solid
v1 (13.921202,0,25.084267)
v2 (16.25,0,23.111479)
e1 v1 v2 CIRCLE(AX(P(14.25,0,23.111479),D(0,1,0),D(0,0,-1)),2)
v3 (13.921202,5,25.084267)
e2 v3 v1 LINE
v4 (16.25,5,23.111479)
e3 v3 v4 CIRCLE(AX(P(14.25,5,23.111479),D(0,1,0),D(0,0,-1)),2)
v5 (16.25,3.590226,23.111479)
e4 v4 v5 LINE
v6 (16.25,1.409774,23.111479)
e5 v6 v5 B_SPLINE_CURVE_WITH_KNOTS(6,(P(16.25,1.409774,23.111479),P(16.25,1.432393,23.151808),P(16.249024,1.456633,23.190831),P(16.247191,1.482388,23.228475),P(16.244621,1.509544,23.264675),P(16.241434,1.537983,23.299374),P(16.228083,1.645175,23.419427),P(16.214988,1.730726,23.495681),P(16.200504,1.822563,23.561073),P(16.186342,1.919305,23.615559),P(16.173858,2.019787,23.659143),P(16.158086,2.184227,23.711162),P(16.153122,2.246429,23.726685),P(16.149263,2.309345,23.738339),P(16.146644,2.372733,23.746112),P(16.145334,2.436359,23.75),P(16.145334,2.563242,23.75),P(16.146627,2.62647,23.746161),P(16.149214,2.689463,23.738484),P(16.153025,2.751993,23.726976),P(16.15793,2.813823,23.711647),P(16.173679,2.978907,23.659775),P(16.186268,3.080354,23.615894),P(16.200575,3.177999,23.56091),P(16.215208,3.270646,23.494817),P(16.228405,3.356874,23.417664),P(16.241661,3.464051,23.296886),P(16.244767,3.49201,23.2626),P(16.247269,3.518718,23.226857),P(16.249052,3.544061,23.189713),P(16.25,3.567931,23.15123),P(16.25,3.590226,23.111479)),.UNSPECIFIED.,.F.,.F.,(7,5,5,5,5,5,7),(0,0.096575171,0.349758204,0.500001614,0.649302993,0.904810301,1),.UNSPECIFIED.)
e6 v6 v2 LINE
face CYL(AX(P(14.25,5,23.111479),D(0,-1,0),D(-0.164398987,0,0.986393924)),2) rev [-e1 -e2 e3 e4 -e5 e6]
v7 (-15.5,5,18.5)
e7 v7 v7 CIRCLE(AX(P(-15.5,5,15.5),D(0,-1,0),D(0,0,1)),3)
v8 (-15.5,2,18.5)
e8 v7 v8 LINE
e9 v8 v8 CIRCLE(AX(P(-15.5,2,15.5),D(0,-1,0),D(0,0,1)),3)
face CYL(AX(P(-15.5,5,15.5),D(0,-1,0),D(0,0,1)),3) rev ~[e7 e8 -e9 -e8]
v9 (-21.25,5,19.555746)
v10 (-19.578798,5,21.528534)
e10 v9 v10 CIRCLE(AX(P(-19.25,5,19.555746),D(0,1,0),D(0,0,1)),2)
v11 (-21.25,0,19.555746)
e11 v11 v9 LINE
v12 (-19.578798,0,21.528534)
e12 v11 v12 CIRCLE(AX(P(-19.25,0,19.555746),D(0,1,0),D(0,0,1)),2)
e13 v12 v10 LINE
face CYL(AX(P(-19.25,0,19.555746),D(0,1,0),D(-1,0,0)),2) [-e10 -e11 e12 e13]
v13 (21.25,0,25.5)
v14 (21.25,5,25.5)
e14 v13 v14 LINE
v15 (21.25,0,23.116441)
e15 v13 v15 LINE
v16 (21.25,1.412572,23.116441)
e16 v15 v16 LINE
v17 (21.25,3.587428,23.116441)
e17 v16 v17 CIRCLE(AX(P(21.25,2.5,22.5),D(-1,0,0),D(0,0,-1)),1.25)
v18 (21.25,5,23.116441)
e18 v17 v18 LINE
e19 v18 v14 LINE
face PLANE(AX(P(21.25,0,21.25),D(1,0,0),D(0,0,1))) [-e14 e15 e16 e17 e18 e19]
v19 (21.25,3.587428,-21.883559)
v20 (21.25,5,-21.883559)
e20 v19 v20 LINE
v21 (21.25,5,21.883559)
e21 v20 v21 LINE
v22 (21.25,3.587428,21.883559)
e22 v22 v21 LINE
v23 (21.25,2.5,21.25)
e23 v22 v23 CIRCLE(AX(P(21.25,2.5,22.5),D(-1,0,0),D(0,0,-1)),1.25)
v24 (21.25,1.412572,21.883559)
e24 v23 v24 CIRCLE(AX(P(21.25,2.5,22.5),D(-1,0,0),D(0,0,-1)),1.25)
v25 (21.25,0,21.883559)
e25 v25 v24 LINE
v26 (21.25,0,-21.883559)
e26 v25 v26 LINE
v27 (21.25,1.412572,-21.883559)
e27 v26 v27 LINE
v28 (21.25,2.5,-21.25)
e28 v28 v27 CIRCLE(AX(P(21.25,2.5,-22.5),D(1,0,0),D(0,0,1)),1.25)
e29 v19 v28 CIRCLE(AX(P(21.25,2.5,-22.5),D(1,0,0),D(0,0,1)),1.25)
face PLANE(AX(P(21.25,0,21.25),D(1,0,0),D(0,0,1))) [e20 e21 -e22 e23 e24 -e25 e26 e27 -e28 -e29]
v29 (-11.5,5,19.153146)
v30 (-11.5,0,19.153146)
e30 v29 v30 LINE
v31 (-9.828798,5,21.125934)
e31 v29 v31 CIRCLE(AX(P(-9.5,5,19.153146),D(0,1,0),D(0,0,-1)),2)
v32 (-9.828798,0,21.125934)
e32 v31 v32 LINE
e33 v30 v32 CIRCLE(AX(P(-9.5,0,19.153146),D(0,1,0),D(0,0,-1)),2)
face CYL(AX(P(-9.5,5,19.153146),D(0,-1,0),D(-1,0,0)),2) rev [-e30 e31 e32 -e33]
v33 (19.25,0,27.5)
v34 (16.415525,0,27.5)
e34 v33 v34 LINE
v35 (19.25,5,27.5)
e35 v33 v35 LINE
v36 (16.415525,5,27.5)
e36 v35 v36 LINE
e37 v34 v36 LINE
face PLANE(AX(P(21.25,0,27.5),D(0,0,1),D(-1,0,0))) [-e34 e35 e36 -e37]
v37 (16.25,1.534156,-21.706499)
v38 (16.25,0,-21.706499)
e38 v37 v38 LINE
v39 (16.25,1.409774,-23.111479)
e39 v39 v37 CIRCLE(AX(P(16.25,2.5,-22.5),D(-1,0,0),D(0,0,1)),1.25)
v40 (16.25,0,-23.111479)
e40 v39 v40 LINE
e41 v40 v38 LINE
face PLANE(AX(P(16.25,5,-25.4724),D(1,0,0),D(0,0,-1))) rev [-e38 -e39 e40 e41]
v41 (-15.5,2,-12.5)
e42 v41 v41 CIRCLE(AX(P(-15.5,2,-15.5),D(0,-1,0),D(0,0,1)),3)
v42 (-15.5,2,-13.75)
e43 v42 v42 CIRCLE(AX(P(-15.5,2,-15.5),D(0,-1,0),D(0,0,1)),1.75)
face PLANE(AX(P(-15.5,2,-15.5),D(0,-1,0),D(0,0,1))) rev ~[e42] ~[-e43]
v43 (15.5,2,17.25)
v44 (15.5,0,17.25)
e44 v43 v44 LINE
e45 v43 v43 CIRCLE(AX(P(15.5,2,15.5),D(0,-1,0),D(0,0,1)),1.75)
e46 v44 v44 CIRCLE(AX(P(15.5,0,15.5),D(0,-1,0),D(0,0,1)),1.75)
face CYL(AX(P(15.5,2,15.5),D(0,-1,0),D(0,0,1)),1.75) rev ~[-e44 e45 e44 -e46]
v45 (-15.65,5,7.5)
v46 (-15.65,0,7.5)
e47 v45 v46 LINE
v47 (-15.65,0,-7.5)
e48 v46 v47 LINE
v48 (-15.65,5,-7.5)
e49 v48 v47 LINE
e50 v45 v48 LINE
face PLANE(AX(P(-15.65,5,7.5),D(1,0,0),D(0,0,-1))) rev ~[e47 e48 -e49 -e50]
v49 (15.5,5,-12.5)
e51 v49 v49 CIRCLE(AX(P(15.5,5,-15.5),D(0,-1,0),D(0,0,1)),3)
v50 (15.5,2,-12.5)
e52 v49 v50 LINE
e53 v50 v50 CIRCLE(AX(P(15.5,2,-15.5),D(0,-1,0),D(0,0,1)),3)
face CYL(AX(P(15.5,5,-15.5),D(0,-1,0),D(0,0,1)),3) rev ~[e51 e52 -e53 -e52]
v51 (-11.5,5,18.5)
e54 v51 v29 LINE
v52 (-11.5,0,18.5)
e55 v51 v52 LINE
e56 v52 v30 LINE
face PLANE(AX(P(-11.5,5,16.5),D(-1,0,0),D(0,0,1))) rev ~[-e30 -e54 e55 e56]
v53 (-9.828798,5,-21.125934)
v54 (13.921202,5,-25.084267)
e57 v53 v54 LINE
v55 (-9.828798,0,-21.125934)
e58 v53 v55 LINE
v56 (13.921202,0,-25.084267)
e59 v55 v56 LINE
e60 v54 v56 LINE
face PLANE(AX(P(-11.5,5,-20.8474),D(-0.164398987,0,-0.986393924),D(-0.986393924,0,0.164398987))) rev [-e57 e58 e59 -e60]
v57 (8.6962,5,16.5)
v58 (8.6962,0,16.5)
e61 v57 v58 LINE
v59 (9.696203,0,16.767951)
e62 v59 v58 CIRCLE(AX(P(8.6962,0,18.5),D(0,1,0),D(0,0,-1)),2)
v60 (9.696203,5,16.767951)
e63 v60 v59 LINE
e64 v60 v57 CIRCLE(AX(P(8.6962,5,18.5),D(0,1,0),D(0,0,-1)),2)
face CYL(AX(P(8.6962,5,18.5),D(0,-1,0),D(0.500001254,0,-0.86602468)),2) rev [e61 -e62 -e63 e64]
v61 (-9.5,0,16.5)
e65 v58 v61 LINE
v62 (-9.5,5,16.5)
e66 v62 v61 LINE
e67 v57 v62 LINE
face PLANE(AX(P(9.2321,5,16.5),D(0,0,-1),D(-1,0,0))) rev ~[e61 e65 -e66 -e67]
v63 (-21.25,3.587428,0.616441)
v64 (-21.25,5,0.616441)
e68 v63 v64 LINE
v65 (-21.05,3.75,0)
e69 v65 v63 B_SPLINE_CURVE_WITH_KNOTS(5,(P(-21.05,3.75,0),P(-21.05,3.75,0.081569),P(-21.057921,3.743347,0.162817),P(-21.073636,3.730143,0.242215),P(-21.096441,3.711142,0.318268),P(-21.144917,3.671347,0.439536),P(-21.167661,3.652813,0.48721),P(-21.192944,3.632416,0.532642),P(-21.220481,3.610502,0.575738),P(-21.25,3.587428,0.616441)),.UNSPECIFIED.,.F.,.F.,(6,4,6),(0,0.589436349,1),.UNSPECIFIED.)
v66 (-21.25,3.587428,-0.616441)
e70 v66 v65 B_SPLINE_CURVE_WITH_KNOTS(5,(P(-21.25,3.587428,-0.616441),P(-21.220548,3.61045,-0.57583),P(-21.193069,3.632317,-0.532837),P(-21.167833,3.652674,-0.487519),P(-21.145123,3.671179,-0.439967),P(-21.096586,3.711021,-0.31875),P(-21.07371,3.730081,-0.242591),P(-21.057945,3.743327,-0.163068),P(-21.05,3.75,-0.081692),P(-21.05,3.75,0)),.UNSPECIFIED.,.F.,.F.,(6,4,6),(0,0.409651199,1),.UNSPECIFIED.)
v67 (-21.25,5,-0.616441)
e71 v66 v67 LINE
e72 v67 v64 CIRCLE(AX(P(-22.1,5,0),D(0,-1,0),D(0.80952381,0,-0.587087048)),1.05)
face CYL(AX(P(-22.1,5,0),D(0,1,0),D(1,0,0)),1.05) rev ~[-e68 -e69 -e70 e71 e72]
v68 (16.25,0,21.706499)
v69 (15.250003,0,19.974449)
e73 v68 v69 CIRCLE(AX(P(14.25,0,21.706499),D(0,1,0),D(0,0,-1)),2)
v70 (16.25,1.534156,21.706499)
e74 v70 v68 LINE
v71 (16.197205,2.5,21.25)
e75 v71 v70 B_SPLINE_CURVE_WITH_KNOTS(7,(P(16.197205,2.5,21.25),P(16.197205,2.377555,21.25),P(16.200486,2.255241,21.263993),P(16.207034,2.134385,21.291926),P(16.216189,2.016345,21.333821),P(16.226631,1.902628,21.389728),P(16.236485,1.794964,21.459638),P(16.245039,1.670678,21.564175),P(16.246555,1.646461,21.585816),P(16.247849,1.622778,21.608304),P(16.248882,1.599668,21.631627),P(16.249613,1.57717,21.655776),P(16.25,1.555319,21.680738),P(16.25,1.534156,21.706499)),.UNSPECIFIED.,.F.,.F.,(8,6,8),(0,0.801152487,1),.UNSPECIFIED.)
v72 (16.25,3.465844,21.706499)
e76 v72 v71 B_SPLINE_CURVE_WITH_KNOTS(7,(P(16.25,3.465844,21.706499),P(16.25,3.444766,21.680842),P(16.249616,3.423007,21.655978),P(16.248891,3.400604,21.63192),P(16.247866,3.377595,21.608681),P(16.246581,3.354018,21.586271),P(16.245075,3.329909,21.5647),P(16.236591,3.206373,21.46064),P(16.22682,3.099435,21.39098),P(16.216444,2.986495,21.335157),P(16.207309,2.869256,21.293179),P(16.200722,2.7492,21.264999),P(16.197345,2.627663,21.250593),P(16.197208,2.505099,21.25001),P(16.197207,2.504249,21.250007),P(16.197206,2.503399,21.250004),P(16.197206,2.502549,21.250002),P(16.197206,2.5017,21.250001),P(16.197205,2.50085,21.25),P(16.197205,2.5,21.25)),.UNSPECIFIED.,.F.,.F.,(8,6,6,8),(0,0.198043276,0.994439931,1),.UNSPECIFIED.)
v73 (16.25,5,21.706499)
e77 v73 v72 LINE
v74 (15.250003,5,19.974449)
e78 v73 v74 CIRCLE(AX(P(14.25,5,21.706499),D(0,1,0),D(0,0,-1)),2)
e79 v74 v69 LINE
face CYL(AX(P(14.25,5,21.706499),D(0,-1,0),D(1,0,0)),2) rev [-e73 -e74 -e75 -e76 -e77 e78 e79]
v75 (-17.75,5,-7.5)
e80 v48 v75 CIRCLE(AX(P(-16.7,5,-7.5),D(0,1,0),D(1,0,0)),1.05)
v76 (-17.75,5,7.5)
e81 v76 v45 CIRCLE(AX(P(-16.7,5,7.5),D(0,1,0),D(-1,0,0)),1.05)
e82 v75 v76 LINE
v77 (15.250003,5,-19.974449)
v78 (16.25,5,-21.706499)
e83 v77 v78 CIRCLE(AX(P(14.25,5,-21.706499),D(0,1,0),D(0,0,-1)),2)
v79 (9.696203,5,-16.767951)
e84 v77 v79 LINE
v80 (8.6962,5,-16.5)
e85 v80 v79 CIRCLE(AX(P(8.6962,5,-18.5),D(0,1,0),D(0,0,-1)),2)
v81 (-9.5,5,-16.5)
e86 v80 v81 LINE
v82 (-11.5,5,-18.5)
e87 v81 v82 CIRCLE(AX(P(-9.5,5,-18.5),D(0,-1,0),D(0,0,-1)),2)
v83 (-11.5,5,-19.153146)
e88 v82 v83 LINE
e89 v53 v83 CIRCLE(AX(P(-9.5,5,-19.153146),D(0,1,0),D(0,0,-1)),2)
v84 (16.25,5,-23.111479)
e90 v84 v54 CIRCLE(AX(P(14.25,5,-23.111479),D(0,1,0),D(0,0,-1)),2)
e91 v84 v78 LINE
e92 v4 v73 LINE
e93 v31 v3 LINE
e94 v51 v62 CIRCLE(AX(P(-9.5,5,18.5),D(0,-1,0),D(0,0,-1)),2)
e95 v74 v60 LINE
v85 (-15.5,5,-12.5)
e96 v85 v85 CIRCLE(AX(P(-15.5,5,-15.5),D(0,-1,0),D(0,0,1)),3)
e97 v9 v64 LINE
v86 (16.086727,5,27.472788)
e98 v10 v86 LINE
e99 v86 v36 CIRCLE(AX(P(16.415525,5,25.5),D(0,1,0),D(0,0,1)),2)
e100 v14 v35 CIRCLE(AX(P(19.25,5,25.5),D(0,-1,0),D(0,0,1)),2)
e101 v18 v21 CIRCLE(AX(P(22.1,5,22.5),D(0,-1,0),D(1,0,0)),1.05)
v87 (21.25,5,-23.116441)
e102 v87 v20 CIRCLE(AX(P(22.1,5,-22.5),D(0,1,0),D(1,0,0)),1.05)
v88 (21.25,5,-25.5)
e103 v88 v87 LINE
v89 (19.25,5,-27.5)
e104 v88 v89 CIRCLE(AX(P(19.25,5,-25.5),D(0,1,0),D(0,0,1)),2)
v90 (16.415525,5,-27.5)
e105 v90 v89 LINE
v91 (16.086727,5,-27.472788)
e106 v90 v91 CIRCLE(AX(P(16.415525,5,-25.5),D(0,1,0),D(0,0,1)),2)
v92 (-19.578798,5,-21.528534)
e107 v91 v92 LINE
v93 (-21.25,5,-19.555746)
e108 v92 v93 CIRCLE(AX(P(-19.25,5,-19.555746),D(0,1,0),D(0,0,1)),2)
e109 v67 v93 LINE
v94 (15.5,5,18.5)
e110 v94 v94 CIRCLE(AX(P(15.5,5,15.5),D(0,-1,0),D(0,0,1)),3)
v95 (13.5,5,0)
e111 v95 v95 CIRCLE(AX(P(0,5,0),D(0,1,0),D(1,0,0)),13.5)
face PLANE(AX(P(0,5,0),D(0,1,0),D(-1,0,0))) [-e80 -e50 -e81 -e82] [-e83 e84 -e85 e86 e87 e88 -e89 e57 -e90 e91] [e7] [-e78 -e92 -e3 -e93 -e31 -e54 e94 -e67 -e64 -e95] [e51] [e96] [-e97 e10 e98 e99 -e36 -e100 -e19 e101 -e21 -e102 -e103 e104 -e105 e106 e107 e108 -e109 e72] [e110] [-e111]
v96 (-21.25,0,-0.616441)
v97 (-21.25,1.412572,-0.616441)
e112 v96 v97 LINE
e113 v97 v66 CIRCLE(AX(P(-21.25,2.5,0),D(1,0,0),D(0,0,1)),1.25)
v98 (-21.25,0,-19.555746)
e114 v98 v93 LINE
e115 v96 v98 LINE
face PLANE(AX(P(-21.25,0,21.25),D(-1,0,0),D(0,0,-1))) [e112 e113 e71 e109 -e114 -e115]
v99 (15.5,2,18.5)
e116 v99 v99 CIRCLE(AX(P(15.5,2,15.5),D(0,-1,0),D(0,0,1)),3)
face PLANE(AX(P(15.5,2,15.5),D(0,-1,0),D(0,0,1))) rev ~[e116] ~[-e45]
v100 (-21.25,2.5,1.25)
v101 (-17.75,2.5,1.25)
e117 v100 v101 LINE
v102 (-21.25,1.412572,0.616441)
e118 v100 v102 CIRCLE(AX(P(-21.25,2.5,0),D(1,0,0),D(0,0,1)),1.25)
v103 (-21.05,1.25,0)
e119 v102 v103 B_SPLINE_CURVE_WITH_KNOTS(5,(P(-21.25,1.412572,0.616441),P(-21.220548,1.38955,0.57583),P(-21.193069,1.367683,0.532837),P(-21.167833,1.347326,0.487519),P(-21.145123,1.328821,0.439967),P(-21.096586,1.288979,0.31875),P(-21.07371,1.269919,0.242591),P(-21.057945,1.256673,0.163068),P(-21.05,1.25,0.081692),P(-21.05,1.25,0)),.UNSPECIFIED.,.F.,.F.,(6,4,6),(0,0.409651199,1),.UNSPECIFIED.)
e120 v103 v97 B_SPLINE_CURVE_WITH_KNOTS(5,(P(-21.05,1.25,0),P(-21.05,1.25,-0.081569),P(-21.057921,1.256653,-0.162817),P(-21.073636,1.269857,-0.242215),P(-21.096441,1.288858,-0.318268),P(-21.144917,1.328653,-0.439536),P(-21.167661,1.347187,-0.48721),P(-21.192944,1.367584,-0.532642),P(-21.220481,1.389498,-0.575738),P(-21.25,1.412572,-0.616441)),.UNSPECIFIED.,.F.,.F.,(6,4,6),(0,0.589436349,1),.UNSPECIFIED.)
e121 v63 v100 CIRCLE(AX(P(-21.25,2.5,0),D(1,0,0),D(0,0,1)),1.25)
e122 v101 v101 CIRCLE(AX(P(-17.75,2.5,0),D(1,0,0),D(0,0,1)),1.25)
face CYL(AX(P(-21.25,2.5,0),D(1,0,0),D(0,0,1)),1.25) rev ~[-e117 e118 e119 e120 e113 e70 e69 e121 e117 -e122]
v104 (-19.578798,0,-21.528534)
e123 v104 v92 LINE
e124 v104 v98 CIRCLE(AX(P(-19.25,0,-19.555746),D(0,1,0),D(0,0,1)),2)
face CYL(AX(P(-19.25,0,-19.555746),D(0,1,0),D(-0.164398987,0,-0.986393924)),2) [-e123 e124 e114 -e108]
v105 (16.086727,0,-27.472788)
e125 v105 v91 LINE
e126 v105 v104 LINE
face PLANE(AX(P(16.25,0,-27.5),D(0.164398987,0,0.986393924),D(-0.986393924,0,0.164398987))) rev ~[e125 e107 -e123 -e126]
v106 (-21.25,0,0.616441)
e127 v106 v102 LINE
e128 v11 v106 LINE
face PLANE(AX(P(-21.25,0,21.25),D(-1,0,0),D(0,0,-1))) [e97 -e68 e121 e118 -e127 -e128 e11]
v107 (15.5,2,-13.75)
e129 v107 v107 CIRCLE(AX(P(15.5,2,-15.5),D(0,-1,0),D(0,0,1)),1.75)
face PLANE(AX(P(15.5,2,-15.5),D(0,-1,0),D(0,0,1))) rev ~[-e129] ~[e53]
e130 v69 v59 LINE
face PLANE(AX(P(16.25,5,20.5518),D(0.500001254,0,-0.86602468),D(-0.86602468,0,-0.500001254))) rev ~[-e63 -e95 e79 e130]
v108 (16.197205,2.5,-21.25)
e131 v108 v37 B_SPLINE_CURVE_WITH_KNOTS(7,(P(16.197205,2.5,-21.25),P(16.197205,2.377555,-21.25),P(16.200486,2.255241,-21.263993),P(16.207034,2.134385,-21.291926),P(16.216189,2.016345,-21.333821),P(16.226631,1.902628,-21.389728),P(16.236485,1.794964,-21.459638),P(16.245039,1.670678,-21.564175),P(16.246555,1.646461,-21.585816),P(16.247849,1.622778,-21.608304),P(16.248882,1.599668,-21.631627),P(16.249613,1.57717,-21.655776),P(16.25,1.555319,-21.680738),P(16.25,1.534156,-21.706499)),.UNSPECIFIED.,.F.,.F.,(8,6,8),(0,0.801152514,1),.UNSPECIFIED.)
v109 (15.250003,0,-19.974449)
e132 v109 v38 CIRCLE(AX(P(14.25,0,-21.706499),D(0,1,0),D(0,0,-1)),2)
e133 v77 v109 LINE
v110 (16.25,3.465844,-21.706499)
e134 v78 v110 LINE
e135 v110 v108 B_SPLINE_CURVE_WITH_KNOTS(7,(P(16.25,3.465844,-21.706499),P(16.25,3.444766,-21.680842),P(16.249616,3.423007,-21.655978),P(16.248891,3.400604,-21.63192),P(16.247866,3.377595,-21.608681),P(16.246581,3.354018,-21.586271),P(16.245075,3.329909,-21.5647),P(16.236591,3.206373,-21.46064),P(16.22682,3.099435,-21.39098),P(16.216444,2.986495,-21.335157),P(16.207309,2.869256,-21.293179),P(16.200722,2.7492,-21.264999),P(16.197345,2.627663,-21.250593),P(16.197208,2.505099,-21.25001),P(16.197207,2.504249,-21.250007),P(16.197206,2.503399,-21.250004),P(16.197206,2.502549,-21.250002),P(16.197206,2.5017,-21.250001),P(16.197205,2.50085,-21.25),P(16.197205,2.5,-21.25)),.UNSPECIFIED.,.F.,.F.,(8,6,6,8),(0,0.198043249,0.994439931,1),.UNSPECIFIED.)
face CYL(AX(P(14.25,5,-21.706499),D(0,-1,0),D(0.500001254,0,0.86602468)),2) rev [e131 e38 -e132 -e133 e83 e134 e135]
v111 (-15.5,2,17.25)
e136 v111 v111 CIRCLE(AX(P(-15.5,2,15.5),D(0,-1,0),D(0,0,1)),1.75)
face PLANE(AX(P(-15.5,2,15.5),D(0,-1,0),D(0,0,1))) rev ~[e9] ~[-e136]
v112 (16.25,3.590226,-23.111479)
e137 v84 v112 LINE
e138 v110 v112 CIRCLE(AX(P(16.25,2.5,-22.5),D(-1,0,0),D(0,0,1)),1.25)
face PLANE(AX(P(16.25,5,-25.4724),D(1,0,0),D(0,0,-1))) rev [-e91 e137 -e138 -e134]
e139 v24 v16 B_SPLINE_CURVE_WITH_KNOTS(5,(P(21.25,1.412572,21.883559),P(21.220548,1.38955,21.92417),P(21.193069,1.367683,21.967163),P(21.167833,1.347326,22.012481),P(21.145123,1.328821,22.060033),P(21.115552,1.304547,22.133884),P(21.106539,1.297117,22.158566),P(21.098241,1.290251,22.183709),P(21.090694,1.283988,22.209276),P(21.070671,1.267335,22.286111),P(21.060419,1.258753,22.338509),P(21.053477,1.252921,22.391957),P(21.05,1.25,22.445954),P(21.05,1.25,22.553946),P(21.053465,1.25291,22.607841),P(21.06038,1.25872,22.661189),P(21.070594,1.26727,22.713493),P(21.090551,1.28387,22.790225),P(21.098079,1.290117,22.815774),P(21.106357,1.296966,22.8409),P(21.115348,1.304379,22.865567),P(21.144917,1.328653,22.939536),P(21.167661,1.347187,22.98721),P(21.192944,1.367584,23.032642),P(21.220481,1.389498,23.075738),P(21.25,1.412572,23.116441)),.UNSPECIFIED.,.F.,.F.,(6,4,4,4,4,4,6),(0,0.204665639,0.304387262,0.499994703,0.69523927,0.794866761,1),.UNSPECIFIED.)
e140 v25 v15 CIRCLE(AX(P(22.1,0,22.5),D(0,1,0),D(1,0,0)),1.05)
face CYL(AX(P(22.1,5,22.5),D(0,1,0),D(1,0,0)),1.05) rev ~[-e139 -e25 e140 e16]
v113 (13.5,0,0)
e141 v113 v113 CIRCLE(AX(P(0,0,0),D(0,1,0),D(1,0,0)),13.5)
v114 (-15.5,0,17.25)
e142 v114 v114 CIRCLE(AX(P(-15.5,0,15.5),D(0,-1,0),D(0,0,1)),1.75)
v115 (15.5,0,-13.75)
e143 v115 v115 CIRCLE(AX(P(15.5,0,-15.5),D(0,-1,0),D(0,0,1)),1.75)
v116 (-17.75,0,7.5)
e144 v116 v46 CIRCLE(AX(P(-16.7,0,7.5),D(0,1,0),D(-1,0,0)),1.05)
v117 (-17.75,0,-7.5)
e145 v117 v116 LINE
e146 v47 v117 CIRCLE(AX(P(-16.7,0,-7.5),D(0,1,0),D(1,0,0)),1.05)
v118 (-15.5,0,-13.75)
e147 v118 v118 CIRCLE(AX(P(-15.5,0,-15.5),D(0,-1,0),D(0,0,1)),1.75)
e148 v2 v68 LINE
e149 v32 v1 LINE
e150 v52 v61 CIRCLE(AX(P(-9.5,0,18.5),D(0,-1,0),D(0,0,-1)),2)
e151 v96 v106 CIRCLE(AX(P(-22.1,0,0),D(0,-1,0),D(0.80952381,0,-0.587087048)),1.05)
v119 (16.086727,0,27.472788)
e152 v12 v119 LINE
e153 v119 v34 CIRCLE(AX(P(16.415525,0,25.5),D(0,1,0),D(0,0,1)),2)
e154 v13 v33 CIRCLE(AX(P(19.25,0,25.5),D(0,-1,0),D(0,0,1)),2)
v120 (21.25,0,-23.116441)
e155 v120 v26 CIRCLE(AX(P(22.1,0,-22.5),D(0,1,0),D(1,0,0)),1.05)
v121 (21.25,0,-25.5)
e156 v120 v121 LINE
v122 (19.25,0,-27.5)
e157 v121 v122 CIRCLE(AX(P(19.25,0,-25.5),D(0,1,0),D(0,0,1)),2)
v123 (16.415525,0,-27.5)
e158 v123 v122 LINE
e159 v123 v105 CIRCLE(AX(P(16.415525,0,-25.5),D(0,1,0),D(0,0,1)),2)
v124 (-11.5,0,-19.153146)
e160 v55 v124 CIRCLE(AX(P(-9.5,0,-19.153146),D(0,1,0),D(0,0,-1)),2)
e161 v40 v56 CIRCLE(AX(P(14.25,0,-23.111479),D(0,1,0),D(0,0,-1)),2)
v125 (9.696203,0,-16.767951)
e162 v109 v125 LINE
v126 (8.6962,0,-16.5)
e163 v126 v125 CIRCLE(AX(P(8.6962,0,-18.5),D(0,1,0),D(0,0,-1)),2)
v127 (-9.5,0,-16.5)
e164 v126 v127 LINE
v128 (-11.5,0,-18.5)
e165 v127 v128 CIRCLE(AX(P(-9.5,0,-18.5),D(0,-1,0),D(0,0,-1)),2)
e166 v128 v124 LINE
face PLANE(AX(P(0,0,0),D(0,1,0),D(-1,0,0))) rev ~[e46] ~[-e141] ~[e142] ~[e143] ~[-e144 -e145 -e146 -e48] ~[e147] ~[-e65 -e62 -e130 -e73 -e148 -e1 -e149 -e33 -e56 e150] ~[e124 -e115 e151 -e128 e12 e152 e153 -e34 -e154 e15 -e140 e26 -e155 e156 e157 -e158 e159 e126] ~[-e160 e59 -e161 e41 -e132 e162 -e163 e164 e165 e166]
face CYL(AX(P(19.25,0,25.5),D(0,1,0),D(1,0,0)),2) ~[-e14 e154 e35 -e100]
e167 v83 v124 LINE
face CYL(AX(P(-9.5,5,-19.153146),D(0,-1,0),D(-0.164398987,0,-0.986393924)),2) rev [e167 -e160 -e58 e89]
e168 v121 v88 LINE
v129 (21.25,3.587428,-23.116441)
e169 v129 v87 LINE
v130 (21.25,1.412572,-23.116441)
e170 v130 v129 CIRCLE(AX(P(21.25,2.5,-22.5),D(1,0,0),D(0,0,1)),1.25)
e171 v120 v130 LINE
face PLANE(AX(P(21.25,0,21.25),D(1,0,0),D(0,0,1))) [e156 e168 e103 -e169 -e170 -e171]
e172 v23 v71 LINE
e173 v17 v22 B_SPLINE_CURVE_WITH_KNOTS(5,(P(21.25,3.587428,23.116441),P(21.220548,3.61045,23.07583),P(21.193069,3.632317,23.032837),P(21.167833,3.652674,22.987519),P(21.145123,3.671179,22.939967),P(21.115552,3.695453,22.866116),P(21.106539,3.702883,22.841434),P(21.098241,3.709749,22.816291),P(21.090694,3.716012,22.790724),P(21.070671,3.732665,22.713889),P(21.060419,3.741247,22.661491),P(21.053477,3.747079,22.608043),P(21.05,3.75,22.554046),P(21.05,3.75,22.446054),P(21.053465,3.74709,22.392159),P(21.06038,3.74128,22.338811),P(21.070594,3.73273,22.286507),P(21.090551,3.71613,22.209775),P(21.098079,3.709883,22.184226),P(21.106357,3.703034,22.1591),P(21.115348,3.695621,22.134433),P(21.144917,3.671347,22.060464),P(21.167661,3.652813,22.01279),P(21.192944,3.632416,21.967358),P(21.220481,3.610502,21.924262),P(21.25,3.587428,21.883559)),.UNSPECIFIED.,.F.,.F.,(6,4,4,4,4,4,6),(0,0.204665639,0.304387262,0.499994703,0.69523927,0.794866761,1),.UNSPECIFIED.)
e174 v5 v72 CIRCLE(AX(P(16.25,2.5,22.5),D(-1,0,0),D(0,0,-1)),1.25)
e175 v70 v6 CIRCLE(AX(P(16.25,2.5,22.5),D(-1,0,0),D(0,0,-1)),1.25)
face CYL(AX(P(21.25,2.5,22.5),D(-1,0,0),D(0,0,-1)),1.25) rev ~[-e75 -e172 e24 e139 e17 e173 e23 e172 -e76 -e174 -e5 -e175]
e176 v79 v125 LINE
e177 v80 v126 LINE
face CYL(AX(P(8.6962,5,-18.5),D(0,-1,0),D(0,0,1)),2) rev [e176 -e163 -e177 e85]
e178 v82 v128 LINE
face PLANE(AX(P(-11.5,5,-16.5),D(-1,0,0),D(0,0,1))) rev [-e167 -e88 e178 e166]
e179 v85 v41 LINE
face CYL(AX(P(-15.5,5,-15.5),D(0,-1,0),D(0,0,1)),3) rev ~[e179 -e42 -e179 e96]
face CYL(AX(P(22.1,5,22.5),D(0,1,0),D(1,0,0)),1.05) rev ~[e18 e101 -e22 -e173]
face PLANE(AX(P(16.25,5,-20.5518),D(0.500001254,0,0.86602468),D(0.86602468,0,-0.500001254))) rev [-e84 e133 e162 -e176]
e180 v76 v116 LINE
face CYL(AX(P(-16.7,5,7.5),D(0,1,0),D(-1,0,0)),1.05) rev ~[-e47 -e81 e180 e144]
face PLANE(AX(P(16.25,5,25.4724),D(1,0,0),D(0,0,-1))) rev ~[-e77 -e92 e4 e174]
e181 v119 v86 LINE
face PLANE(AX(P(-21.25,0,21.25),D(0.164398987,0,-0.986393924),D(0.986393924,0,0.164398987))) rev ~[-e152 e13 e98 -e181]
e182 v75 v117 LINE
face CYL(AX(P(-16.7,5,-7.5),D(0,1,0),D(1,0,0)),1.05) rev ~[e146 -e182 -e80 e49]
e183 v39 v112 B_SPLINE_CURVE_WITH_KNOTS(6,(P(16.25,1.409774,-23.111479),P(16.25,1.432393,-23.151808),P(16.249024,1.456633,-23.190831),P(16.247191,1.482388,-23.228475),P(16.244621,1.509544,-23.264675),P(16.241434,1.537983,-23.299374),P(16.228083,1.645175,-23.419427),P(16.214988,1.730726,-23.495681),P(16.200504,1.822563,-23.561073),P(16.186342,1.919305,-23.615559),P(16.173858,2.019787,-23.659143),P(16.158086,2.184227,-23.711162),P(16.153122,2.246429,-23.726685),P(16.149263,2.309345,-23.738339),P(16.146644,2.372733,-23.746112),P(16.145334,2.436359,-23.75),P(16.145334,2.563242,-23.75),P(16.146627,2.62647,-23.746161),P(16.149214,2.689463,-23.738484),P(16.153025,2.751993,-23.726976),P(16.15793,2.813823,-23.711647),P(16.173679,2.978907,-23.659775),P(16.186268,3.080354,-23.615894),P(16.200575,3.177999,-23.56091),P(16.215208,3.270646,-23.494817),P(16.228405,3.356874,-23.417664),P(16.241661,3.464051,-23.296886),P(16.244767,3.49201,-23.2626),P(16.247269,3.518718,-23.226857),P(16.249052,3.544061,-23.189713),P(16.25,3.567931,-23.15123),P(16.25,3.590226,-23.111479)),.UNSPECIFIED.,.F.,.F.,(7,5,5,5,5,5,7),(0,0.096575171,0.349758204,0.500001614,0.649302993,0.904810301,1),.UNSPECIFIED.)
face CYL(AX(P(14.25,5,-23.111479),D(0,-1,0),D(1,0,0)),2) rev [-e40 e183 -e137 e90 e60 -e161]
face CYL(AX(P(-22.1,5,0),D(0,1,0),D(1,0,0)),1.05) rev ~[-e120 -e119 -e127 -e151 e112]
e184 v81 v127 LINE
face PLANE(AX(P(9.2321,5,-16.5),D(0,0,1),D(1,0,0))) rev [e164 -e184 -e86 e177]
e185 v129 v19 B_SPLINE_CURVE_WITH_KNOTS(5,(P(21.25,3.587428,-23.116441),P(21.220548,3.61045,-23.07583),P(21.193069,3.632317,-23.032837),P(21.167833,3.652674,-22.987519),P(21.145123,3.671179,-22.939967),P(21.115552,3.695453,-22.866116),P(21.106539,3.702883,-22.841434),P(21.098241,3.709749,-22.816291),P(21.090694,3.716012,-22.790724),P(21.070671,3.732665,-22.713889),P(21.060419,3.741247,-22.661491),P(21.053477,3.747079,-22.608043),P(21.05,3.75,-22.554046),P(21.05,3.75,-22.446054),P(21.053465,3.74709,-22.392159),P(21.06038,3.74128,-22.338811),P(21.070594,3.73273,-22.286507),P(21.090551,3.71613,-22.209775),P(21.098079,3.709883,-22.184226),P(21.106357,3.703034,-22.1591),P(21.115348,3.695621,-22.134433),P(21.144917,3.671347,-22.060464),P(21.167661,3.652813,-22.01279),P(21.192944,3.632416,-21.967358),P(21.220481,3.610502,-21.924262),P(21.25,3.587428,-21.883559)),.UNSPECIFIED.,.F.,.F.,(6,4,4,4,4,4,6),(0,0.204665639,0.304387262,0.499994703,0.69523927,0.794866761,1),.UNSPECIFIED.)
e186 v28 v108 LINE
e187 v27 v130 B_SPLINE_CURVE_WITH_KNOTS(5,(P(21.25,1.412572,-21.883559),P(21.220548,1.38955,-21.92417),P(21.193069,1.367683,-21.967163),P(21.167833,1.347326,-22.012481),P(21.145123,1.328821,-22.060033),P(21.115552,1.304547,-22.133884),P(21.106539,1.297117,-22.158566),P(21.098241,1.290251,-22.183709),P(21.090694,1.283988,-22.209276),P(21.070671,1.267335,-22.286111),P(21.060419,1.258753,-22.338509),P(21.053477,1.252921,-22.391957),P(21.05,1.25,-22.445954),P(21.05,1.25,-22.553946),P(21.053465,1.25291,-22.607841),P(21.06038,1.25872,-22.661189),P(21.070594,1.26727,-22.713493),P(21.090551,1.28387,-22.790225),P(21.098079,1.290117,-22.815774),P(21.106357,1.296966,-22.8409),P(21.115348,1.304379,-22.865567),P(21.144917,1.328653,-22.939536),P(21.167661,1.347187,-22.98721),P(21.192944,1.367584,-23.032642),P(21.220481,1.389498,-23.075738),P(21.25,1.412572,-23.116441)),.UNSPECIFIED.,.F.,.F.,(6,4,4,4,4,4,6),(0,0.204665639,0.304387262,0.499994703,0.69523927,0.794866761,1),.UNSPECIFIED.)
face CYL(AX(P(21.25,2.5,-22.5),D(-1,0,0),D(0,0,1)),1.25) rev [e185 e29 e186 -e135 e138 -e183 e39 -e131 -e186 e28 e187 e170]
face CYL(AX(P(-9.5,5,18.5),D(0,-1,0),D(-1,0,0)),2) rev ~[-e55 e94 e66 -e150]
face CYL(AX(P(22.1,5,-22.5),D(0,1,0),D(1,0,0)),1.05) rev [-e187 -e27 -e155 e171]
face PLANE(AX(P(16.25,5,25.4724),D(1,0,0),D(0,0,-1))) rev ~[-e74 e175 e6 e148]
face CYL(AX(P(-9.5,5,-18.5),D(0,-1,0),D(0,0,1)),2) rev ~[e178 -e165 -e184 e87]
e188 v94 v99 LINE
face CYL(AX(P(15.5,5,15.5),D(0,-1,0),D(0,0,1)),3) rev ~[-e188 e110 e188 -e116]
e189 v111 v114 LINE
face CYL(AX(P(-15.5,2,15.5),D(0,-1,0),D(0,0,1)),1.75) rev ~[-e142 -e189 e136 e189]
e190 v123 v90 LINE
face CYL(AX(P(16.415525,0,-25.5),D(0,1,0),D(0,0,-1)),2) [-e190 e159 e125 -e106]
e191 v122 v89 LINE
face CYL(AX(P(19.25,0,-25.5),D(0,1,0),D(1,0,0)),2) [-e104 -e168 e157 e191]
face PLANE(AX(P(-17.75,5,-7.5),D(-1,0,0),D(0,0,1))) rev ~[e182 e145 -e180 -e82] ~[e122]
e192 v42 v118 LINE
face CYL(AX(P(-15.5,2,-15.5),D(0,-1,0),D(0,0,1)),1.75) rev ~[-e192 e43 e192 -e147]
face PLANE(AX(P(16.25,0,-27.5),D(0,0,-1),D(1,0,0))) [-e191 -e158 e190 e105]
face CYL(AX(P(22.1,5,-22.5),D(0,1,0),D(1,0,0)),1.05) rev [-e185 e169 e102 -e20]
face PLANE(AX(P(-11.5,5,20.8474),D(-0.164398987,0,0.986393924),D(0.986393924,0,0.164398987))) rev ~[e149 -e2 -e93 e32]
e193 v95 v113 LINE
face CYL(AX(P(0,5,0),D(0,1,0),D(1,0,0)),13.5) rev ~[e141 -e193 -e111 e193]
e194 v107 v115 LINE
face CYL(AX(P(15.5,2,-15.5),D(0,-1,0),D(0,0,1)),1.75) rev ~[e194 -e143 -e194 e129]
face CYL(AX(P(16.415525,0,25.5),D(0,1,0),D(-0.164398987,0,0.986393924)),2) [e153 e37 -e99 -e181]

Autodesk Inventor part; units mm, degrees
ref_plane "YZ Plane" through (0, 0, 0) normal (1, 0, 0) x (0, 1, 0)
ref_plane "XZ Plane" through (0, 0, 0) normal (0, 1, 0) x (-1, 0, 0)
ref_plane "XY Plane" through (0, 0, 0) normal (0, 0, 1) x (1, 0, 0)
sketch "スケッチ1" plane through (0, 0, 0) normal (0, 1, 0) x (-1, 0, 0)
  line L0 (-21.25, 21.25) -> (21.25, 21.25)
  line L1 (21.25, 21.25) -> (21.25, -21.25)
  line L2 (21.25, -21.25) -> (-21.25, -21.25)
  line L3 (-21.25, -21.25) -> (-21.25, 21.25)
  line L4 (-21.25, 21.25) -> (21.25, -21.25) construction
  line L5 (21.25, 21.25) -> (-21.25, -21.25) construction
  line L6 (-21.25, 27.5) -> (-16.25, 27.5)
  line L7 (-16.25, 27.5) -> (-16.25, -27.5)
  line L8 (-16.25, -27.5) -> (-21.25, -27.5)
  line L9 (-21.25, -27.5) -> (-21.25, 27.5)
  line L10 (-21.25, 27.5) -> (-16.25, -27.5) construction
  line L11 (-16.25, 27.5) -> (-21.25, -27.5) construction
  line L12 (21.25, 21.25) -> (-16.25, 27.5)
  line L13 (-16.25, -27.5) -> (21.25, -21.25)
  point P0 (0, 0)
  point P1 (-18.75, 0)
  dimension "d0" = 42.5
  dimension "d1" = 42.5
  dimension "d12" = 6.25
  dimension "d13" = 5
extrude "プレート1" add sketch "スケッチ1" along normal blind 5
sketch "スケッチ2" plane through (0, 5, 0) normal (0, 1, 0) x (1, 0, 0)
  line L0 (15.5, -15.5) -> (-15.5, -15.5) construction
  line L1 (-15.5, -15.5) -> (-15.5, 15.5) construction
  line L2 (-15.5, 15.5) -> (15.5, 15.5) construction
  line L3 (15.5, 15.5) -> (15.5, -15.5) construction
  line L4 (15.5, -15.5) -> (-15.5, 15.5) construction
  line L5 (-15.5, -15.5) -> (15.5, 15.5) construction
  point P0 (0, 0)
  dimension "d3" = 31
  dimension "d4" = 31
hole "穴1" at (15.5, 5, 15.5) at (15.5, 5, -15.5) at (-15.5, 5, -15.5) at (-15.5, 5, 15.5) direction (0, -1, 0) diameter 3.5 depth 5 tip angle 118 counterbore diameter 6 counterbore depth 3
sketch "スケッチ3" plane through (0, 5, 0) normal (0, 1, 0) x (1, 0, 0)
  line L0 (21.25, 27.5) -> (21.25, -27.5) projected
  circle A0 centre (22.1, -22.5) radius 1.05
  line L1 (21.25, -27.5) -> (16.25, -27.5) projected
  line L2 (16.25, -27.5) -> (-21.25, -21.25) projected
  line L3 (-11.5, -20.8474) -> (16.25, -25.4724)
  line L4 (16.25, -25.4724) -> (16.25, -20.5518)
  line L5 (16.25, -20.5518) -> (9.2321, -16.5)
  line L6 (9.2321, -16.5) -> (-11.5, -16.5)
  line L7 (-11.5, -16.5) -> (-11.5, -20.8474)
  line L8 (-21.25, -21.25) -> (-21.25, 21.25) projected
  circle A1 centre (15.5, -15.5) radius 1.75 projected
  circle A2 centre (-15.5, -15.5) radius 1.75 projected
  point P0 (0, 0)
  dimension "d14" = 2.1
  dimension "d15" = 0.85
  dimension "d16" = 5
  dimension "d19" = 2
  dimension "d20" = 5
  dimension "d21" = 4
  dimension "d22" = 1
  dimension "d23" = 4
  dimension "d24" = 120
extrude "押し出し1" cut sketch "スケッチ3" against normal through all contours A0 L0 | L0 A0 | L7 L6 L5 L4 L3
fillet "フィレット1" radius 2 5 edges at (16.25, 2.5, 25.4724) (16.25, 2.5, 20.5518) (9.2321, 2.5, 16.5) (-11.5, 2.5, 16.5) (-11.5, 2.5, 20.8474)
sketch "スケッチ4" plane through (21.25, 0, 27.5) normal (1, 0, 0) x (0, 0, -1)
  line L0 (4.3836, 0) -> (4.3836, 5) projected
  line L1 (5.6164, 0) -> (4.3836, 0) projected
  line L2 (5.6164, 5) -> (5.6164, 0) projected
  line L3 (4.3836, 5) -> (5.6164, 5) projected
  point P0 (27.5, 0)
  point P1 (5, 2.5)
  point P2 (5, 5)
  point P3 (4.3836, 2.5)
hole "穴2" at (21.25, 2.5, 22.5) direction (-1, 0, 0) diameter 2.5 depth 8 tip angle 118
mirror "ミラー1" about plane through (0, 0, 0) normal (0, 0, 1) of "押し出し1", "フィレット1", "穴2"
sketch "スケッチ5" plane through (0, 5, 0) normal (0, 1, 0) x (1, 0, 0)
  circle A0 centre (0, 0) radius 13.5
  dimension "d33" = 27
extrude "押し出し2" cut sketch "スケッチ5" against normal through all
fillet "フィレット2" radius 2 6 edges at (-21.25, 2.5, 21.25) (-21.25, 2.5, -21.25) (16.25, 2.5, -27.5) (21.25, 2.5, -27.5) (21.25, 2.5, 27.5) (16.25, 2.5, 27.5)
sketch "スケッチ6" plane through (0, 5, 0) normal (0, 1, 0) x (1, 0, 0)
  line L0 (-21.25, -19.5557) -> (-21.25, 19.5557) projected
  circle A0 centre (-22.1, 0) radius 1.05
  point P0 (0, 0)
  dimension "d37" = 2.1
  dimension "d38" = 0.85
extrude "押し出し3" cut sketch "スケッチ6" against normal through all
sketch "スケッチ7" plane through (0, 5, 0) normal (0, 1, 0) x (1, 0, 0)
  line L0 (-16.7, -7.5) -> (-16.7, 7.5) construction
  line L1 (-15.65, -7.5) -> (-15.65, 7.5)
  line L2 (-17.75, 7.5) -> (-17.75, -7.5)
  arc A0 (-17.75, -7.5) -> (-15.65, -7.5) centre (-16.7, -7.5) ccw
  arc A1 (-15.65, 7.5) -> (-17.75, 7.5) centre (-16.7, 7.5) ccw
  line L3 (-21.25, 0.6164) -> (-21.25, 19.5557) projected
  point P0 (0, 0)
  point P1 (-16.7, 0)
  dimension "d41" = 3.5
  dimension "d42" = 2.1
  dimension "d43" = 15
extrude "押し出し4" cut sketch "スケッチ7" against normal through all
sketch "スケッチ8" plane through (-21.25, 0, 19.5557) normal (-1, 0, 0) x (0, 0, 1)
  line L0 (-20.1722, 0) -> (-20.1722, 5) projected
  line L1 (-18.9393, 0) -> (-20.1722, 0) projected
  line L2 (-18.9393, 5) -> (-18.9393, 0) projected
  line L3 (-20.1722, 5) -> (-18.9393, 5) projected
  point P0 (-19.5557, 0)
  point P1 (-19.5557, 2.5)
  point P2 (-19.5557, 0)
  point P3 (-18.9393, 2.5)
hole "穴3" at (-21.25, 2.5, 0) direction (1, 0, 0) diameter 2.5 depth 4 tip angle 118
equation "\"d10\" = Thickness"
equation "\"d23\" = d21"
equation "\"d2\" = Thickness"
equation "\"BendRadius\" = Thickness"
equation "\"BendReliefWidth\" = Thickness"
equation "\"BendReliefDepth\" = 0.5 * Thickness"
equation "\"TransitionRadius\" = BendRadius"
equation "\"JacobiRadiusSize\" = BendRadius"
equation "\"GapSize\" = Thickness"
equation "\"Thickness\" = 5"
properties part number "T5.0_stepper-fix"
